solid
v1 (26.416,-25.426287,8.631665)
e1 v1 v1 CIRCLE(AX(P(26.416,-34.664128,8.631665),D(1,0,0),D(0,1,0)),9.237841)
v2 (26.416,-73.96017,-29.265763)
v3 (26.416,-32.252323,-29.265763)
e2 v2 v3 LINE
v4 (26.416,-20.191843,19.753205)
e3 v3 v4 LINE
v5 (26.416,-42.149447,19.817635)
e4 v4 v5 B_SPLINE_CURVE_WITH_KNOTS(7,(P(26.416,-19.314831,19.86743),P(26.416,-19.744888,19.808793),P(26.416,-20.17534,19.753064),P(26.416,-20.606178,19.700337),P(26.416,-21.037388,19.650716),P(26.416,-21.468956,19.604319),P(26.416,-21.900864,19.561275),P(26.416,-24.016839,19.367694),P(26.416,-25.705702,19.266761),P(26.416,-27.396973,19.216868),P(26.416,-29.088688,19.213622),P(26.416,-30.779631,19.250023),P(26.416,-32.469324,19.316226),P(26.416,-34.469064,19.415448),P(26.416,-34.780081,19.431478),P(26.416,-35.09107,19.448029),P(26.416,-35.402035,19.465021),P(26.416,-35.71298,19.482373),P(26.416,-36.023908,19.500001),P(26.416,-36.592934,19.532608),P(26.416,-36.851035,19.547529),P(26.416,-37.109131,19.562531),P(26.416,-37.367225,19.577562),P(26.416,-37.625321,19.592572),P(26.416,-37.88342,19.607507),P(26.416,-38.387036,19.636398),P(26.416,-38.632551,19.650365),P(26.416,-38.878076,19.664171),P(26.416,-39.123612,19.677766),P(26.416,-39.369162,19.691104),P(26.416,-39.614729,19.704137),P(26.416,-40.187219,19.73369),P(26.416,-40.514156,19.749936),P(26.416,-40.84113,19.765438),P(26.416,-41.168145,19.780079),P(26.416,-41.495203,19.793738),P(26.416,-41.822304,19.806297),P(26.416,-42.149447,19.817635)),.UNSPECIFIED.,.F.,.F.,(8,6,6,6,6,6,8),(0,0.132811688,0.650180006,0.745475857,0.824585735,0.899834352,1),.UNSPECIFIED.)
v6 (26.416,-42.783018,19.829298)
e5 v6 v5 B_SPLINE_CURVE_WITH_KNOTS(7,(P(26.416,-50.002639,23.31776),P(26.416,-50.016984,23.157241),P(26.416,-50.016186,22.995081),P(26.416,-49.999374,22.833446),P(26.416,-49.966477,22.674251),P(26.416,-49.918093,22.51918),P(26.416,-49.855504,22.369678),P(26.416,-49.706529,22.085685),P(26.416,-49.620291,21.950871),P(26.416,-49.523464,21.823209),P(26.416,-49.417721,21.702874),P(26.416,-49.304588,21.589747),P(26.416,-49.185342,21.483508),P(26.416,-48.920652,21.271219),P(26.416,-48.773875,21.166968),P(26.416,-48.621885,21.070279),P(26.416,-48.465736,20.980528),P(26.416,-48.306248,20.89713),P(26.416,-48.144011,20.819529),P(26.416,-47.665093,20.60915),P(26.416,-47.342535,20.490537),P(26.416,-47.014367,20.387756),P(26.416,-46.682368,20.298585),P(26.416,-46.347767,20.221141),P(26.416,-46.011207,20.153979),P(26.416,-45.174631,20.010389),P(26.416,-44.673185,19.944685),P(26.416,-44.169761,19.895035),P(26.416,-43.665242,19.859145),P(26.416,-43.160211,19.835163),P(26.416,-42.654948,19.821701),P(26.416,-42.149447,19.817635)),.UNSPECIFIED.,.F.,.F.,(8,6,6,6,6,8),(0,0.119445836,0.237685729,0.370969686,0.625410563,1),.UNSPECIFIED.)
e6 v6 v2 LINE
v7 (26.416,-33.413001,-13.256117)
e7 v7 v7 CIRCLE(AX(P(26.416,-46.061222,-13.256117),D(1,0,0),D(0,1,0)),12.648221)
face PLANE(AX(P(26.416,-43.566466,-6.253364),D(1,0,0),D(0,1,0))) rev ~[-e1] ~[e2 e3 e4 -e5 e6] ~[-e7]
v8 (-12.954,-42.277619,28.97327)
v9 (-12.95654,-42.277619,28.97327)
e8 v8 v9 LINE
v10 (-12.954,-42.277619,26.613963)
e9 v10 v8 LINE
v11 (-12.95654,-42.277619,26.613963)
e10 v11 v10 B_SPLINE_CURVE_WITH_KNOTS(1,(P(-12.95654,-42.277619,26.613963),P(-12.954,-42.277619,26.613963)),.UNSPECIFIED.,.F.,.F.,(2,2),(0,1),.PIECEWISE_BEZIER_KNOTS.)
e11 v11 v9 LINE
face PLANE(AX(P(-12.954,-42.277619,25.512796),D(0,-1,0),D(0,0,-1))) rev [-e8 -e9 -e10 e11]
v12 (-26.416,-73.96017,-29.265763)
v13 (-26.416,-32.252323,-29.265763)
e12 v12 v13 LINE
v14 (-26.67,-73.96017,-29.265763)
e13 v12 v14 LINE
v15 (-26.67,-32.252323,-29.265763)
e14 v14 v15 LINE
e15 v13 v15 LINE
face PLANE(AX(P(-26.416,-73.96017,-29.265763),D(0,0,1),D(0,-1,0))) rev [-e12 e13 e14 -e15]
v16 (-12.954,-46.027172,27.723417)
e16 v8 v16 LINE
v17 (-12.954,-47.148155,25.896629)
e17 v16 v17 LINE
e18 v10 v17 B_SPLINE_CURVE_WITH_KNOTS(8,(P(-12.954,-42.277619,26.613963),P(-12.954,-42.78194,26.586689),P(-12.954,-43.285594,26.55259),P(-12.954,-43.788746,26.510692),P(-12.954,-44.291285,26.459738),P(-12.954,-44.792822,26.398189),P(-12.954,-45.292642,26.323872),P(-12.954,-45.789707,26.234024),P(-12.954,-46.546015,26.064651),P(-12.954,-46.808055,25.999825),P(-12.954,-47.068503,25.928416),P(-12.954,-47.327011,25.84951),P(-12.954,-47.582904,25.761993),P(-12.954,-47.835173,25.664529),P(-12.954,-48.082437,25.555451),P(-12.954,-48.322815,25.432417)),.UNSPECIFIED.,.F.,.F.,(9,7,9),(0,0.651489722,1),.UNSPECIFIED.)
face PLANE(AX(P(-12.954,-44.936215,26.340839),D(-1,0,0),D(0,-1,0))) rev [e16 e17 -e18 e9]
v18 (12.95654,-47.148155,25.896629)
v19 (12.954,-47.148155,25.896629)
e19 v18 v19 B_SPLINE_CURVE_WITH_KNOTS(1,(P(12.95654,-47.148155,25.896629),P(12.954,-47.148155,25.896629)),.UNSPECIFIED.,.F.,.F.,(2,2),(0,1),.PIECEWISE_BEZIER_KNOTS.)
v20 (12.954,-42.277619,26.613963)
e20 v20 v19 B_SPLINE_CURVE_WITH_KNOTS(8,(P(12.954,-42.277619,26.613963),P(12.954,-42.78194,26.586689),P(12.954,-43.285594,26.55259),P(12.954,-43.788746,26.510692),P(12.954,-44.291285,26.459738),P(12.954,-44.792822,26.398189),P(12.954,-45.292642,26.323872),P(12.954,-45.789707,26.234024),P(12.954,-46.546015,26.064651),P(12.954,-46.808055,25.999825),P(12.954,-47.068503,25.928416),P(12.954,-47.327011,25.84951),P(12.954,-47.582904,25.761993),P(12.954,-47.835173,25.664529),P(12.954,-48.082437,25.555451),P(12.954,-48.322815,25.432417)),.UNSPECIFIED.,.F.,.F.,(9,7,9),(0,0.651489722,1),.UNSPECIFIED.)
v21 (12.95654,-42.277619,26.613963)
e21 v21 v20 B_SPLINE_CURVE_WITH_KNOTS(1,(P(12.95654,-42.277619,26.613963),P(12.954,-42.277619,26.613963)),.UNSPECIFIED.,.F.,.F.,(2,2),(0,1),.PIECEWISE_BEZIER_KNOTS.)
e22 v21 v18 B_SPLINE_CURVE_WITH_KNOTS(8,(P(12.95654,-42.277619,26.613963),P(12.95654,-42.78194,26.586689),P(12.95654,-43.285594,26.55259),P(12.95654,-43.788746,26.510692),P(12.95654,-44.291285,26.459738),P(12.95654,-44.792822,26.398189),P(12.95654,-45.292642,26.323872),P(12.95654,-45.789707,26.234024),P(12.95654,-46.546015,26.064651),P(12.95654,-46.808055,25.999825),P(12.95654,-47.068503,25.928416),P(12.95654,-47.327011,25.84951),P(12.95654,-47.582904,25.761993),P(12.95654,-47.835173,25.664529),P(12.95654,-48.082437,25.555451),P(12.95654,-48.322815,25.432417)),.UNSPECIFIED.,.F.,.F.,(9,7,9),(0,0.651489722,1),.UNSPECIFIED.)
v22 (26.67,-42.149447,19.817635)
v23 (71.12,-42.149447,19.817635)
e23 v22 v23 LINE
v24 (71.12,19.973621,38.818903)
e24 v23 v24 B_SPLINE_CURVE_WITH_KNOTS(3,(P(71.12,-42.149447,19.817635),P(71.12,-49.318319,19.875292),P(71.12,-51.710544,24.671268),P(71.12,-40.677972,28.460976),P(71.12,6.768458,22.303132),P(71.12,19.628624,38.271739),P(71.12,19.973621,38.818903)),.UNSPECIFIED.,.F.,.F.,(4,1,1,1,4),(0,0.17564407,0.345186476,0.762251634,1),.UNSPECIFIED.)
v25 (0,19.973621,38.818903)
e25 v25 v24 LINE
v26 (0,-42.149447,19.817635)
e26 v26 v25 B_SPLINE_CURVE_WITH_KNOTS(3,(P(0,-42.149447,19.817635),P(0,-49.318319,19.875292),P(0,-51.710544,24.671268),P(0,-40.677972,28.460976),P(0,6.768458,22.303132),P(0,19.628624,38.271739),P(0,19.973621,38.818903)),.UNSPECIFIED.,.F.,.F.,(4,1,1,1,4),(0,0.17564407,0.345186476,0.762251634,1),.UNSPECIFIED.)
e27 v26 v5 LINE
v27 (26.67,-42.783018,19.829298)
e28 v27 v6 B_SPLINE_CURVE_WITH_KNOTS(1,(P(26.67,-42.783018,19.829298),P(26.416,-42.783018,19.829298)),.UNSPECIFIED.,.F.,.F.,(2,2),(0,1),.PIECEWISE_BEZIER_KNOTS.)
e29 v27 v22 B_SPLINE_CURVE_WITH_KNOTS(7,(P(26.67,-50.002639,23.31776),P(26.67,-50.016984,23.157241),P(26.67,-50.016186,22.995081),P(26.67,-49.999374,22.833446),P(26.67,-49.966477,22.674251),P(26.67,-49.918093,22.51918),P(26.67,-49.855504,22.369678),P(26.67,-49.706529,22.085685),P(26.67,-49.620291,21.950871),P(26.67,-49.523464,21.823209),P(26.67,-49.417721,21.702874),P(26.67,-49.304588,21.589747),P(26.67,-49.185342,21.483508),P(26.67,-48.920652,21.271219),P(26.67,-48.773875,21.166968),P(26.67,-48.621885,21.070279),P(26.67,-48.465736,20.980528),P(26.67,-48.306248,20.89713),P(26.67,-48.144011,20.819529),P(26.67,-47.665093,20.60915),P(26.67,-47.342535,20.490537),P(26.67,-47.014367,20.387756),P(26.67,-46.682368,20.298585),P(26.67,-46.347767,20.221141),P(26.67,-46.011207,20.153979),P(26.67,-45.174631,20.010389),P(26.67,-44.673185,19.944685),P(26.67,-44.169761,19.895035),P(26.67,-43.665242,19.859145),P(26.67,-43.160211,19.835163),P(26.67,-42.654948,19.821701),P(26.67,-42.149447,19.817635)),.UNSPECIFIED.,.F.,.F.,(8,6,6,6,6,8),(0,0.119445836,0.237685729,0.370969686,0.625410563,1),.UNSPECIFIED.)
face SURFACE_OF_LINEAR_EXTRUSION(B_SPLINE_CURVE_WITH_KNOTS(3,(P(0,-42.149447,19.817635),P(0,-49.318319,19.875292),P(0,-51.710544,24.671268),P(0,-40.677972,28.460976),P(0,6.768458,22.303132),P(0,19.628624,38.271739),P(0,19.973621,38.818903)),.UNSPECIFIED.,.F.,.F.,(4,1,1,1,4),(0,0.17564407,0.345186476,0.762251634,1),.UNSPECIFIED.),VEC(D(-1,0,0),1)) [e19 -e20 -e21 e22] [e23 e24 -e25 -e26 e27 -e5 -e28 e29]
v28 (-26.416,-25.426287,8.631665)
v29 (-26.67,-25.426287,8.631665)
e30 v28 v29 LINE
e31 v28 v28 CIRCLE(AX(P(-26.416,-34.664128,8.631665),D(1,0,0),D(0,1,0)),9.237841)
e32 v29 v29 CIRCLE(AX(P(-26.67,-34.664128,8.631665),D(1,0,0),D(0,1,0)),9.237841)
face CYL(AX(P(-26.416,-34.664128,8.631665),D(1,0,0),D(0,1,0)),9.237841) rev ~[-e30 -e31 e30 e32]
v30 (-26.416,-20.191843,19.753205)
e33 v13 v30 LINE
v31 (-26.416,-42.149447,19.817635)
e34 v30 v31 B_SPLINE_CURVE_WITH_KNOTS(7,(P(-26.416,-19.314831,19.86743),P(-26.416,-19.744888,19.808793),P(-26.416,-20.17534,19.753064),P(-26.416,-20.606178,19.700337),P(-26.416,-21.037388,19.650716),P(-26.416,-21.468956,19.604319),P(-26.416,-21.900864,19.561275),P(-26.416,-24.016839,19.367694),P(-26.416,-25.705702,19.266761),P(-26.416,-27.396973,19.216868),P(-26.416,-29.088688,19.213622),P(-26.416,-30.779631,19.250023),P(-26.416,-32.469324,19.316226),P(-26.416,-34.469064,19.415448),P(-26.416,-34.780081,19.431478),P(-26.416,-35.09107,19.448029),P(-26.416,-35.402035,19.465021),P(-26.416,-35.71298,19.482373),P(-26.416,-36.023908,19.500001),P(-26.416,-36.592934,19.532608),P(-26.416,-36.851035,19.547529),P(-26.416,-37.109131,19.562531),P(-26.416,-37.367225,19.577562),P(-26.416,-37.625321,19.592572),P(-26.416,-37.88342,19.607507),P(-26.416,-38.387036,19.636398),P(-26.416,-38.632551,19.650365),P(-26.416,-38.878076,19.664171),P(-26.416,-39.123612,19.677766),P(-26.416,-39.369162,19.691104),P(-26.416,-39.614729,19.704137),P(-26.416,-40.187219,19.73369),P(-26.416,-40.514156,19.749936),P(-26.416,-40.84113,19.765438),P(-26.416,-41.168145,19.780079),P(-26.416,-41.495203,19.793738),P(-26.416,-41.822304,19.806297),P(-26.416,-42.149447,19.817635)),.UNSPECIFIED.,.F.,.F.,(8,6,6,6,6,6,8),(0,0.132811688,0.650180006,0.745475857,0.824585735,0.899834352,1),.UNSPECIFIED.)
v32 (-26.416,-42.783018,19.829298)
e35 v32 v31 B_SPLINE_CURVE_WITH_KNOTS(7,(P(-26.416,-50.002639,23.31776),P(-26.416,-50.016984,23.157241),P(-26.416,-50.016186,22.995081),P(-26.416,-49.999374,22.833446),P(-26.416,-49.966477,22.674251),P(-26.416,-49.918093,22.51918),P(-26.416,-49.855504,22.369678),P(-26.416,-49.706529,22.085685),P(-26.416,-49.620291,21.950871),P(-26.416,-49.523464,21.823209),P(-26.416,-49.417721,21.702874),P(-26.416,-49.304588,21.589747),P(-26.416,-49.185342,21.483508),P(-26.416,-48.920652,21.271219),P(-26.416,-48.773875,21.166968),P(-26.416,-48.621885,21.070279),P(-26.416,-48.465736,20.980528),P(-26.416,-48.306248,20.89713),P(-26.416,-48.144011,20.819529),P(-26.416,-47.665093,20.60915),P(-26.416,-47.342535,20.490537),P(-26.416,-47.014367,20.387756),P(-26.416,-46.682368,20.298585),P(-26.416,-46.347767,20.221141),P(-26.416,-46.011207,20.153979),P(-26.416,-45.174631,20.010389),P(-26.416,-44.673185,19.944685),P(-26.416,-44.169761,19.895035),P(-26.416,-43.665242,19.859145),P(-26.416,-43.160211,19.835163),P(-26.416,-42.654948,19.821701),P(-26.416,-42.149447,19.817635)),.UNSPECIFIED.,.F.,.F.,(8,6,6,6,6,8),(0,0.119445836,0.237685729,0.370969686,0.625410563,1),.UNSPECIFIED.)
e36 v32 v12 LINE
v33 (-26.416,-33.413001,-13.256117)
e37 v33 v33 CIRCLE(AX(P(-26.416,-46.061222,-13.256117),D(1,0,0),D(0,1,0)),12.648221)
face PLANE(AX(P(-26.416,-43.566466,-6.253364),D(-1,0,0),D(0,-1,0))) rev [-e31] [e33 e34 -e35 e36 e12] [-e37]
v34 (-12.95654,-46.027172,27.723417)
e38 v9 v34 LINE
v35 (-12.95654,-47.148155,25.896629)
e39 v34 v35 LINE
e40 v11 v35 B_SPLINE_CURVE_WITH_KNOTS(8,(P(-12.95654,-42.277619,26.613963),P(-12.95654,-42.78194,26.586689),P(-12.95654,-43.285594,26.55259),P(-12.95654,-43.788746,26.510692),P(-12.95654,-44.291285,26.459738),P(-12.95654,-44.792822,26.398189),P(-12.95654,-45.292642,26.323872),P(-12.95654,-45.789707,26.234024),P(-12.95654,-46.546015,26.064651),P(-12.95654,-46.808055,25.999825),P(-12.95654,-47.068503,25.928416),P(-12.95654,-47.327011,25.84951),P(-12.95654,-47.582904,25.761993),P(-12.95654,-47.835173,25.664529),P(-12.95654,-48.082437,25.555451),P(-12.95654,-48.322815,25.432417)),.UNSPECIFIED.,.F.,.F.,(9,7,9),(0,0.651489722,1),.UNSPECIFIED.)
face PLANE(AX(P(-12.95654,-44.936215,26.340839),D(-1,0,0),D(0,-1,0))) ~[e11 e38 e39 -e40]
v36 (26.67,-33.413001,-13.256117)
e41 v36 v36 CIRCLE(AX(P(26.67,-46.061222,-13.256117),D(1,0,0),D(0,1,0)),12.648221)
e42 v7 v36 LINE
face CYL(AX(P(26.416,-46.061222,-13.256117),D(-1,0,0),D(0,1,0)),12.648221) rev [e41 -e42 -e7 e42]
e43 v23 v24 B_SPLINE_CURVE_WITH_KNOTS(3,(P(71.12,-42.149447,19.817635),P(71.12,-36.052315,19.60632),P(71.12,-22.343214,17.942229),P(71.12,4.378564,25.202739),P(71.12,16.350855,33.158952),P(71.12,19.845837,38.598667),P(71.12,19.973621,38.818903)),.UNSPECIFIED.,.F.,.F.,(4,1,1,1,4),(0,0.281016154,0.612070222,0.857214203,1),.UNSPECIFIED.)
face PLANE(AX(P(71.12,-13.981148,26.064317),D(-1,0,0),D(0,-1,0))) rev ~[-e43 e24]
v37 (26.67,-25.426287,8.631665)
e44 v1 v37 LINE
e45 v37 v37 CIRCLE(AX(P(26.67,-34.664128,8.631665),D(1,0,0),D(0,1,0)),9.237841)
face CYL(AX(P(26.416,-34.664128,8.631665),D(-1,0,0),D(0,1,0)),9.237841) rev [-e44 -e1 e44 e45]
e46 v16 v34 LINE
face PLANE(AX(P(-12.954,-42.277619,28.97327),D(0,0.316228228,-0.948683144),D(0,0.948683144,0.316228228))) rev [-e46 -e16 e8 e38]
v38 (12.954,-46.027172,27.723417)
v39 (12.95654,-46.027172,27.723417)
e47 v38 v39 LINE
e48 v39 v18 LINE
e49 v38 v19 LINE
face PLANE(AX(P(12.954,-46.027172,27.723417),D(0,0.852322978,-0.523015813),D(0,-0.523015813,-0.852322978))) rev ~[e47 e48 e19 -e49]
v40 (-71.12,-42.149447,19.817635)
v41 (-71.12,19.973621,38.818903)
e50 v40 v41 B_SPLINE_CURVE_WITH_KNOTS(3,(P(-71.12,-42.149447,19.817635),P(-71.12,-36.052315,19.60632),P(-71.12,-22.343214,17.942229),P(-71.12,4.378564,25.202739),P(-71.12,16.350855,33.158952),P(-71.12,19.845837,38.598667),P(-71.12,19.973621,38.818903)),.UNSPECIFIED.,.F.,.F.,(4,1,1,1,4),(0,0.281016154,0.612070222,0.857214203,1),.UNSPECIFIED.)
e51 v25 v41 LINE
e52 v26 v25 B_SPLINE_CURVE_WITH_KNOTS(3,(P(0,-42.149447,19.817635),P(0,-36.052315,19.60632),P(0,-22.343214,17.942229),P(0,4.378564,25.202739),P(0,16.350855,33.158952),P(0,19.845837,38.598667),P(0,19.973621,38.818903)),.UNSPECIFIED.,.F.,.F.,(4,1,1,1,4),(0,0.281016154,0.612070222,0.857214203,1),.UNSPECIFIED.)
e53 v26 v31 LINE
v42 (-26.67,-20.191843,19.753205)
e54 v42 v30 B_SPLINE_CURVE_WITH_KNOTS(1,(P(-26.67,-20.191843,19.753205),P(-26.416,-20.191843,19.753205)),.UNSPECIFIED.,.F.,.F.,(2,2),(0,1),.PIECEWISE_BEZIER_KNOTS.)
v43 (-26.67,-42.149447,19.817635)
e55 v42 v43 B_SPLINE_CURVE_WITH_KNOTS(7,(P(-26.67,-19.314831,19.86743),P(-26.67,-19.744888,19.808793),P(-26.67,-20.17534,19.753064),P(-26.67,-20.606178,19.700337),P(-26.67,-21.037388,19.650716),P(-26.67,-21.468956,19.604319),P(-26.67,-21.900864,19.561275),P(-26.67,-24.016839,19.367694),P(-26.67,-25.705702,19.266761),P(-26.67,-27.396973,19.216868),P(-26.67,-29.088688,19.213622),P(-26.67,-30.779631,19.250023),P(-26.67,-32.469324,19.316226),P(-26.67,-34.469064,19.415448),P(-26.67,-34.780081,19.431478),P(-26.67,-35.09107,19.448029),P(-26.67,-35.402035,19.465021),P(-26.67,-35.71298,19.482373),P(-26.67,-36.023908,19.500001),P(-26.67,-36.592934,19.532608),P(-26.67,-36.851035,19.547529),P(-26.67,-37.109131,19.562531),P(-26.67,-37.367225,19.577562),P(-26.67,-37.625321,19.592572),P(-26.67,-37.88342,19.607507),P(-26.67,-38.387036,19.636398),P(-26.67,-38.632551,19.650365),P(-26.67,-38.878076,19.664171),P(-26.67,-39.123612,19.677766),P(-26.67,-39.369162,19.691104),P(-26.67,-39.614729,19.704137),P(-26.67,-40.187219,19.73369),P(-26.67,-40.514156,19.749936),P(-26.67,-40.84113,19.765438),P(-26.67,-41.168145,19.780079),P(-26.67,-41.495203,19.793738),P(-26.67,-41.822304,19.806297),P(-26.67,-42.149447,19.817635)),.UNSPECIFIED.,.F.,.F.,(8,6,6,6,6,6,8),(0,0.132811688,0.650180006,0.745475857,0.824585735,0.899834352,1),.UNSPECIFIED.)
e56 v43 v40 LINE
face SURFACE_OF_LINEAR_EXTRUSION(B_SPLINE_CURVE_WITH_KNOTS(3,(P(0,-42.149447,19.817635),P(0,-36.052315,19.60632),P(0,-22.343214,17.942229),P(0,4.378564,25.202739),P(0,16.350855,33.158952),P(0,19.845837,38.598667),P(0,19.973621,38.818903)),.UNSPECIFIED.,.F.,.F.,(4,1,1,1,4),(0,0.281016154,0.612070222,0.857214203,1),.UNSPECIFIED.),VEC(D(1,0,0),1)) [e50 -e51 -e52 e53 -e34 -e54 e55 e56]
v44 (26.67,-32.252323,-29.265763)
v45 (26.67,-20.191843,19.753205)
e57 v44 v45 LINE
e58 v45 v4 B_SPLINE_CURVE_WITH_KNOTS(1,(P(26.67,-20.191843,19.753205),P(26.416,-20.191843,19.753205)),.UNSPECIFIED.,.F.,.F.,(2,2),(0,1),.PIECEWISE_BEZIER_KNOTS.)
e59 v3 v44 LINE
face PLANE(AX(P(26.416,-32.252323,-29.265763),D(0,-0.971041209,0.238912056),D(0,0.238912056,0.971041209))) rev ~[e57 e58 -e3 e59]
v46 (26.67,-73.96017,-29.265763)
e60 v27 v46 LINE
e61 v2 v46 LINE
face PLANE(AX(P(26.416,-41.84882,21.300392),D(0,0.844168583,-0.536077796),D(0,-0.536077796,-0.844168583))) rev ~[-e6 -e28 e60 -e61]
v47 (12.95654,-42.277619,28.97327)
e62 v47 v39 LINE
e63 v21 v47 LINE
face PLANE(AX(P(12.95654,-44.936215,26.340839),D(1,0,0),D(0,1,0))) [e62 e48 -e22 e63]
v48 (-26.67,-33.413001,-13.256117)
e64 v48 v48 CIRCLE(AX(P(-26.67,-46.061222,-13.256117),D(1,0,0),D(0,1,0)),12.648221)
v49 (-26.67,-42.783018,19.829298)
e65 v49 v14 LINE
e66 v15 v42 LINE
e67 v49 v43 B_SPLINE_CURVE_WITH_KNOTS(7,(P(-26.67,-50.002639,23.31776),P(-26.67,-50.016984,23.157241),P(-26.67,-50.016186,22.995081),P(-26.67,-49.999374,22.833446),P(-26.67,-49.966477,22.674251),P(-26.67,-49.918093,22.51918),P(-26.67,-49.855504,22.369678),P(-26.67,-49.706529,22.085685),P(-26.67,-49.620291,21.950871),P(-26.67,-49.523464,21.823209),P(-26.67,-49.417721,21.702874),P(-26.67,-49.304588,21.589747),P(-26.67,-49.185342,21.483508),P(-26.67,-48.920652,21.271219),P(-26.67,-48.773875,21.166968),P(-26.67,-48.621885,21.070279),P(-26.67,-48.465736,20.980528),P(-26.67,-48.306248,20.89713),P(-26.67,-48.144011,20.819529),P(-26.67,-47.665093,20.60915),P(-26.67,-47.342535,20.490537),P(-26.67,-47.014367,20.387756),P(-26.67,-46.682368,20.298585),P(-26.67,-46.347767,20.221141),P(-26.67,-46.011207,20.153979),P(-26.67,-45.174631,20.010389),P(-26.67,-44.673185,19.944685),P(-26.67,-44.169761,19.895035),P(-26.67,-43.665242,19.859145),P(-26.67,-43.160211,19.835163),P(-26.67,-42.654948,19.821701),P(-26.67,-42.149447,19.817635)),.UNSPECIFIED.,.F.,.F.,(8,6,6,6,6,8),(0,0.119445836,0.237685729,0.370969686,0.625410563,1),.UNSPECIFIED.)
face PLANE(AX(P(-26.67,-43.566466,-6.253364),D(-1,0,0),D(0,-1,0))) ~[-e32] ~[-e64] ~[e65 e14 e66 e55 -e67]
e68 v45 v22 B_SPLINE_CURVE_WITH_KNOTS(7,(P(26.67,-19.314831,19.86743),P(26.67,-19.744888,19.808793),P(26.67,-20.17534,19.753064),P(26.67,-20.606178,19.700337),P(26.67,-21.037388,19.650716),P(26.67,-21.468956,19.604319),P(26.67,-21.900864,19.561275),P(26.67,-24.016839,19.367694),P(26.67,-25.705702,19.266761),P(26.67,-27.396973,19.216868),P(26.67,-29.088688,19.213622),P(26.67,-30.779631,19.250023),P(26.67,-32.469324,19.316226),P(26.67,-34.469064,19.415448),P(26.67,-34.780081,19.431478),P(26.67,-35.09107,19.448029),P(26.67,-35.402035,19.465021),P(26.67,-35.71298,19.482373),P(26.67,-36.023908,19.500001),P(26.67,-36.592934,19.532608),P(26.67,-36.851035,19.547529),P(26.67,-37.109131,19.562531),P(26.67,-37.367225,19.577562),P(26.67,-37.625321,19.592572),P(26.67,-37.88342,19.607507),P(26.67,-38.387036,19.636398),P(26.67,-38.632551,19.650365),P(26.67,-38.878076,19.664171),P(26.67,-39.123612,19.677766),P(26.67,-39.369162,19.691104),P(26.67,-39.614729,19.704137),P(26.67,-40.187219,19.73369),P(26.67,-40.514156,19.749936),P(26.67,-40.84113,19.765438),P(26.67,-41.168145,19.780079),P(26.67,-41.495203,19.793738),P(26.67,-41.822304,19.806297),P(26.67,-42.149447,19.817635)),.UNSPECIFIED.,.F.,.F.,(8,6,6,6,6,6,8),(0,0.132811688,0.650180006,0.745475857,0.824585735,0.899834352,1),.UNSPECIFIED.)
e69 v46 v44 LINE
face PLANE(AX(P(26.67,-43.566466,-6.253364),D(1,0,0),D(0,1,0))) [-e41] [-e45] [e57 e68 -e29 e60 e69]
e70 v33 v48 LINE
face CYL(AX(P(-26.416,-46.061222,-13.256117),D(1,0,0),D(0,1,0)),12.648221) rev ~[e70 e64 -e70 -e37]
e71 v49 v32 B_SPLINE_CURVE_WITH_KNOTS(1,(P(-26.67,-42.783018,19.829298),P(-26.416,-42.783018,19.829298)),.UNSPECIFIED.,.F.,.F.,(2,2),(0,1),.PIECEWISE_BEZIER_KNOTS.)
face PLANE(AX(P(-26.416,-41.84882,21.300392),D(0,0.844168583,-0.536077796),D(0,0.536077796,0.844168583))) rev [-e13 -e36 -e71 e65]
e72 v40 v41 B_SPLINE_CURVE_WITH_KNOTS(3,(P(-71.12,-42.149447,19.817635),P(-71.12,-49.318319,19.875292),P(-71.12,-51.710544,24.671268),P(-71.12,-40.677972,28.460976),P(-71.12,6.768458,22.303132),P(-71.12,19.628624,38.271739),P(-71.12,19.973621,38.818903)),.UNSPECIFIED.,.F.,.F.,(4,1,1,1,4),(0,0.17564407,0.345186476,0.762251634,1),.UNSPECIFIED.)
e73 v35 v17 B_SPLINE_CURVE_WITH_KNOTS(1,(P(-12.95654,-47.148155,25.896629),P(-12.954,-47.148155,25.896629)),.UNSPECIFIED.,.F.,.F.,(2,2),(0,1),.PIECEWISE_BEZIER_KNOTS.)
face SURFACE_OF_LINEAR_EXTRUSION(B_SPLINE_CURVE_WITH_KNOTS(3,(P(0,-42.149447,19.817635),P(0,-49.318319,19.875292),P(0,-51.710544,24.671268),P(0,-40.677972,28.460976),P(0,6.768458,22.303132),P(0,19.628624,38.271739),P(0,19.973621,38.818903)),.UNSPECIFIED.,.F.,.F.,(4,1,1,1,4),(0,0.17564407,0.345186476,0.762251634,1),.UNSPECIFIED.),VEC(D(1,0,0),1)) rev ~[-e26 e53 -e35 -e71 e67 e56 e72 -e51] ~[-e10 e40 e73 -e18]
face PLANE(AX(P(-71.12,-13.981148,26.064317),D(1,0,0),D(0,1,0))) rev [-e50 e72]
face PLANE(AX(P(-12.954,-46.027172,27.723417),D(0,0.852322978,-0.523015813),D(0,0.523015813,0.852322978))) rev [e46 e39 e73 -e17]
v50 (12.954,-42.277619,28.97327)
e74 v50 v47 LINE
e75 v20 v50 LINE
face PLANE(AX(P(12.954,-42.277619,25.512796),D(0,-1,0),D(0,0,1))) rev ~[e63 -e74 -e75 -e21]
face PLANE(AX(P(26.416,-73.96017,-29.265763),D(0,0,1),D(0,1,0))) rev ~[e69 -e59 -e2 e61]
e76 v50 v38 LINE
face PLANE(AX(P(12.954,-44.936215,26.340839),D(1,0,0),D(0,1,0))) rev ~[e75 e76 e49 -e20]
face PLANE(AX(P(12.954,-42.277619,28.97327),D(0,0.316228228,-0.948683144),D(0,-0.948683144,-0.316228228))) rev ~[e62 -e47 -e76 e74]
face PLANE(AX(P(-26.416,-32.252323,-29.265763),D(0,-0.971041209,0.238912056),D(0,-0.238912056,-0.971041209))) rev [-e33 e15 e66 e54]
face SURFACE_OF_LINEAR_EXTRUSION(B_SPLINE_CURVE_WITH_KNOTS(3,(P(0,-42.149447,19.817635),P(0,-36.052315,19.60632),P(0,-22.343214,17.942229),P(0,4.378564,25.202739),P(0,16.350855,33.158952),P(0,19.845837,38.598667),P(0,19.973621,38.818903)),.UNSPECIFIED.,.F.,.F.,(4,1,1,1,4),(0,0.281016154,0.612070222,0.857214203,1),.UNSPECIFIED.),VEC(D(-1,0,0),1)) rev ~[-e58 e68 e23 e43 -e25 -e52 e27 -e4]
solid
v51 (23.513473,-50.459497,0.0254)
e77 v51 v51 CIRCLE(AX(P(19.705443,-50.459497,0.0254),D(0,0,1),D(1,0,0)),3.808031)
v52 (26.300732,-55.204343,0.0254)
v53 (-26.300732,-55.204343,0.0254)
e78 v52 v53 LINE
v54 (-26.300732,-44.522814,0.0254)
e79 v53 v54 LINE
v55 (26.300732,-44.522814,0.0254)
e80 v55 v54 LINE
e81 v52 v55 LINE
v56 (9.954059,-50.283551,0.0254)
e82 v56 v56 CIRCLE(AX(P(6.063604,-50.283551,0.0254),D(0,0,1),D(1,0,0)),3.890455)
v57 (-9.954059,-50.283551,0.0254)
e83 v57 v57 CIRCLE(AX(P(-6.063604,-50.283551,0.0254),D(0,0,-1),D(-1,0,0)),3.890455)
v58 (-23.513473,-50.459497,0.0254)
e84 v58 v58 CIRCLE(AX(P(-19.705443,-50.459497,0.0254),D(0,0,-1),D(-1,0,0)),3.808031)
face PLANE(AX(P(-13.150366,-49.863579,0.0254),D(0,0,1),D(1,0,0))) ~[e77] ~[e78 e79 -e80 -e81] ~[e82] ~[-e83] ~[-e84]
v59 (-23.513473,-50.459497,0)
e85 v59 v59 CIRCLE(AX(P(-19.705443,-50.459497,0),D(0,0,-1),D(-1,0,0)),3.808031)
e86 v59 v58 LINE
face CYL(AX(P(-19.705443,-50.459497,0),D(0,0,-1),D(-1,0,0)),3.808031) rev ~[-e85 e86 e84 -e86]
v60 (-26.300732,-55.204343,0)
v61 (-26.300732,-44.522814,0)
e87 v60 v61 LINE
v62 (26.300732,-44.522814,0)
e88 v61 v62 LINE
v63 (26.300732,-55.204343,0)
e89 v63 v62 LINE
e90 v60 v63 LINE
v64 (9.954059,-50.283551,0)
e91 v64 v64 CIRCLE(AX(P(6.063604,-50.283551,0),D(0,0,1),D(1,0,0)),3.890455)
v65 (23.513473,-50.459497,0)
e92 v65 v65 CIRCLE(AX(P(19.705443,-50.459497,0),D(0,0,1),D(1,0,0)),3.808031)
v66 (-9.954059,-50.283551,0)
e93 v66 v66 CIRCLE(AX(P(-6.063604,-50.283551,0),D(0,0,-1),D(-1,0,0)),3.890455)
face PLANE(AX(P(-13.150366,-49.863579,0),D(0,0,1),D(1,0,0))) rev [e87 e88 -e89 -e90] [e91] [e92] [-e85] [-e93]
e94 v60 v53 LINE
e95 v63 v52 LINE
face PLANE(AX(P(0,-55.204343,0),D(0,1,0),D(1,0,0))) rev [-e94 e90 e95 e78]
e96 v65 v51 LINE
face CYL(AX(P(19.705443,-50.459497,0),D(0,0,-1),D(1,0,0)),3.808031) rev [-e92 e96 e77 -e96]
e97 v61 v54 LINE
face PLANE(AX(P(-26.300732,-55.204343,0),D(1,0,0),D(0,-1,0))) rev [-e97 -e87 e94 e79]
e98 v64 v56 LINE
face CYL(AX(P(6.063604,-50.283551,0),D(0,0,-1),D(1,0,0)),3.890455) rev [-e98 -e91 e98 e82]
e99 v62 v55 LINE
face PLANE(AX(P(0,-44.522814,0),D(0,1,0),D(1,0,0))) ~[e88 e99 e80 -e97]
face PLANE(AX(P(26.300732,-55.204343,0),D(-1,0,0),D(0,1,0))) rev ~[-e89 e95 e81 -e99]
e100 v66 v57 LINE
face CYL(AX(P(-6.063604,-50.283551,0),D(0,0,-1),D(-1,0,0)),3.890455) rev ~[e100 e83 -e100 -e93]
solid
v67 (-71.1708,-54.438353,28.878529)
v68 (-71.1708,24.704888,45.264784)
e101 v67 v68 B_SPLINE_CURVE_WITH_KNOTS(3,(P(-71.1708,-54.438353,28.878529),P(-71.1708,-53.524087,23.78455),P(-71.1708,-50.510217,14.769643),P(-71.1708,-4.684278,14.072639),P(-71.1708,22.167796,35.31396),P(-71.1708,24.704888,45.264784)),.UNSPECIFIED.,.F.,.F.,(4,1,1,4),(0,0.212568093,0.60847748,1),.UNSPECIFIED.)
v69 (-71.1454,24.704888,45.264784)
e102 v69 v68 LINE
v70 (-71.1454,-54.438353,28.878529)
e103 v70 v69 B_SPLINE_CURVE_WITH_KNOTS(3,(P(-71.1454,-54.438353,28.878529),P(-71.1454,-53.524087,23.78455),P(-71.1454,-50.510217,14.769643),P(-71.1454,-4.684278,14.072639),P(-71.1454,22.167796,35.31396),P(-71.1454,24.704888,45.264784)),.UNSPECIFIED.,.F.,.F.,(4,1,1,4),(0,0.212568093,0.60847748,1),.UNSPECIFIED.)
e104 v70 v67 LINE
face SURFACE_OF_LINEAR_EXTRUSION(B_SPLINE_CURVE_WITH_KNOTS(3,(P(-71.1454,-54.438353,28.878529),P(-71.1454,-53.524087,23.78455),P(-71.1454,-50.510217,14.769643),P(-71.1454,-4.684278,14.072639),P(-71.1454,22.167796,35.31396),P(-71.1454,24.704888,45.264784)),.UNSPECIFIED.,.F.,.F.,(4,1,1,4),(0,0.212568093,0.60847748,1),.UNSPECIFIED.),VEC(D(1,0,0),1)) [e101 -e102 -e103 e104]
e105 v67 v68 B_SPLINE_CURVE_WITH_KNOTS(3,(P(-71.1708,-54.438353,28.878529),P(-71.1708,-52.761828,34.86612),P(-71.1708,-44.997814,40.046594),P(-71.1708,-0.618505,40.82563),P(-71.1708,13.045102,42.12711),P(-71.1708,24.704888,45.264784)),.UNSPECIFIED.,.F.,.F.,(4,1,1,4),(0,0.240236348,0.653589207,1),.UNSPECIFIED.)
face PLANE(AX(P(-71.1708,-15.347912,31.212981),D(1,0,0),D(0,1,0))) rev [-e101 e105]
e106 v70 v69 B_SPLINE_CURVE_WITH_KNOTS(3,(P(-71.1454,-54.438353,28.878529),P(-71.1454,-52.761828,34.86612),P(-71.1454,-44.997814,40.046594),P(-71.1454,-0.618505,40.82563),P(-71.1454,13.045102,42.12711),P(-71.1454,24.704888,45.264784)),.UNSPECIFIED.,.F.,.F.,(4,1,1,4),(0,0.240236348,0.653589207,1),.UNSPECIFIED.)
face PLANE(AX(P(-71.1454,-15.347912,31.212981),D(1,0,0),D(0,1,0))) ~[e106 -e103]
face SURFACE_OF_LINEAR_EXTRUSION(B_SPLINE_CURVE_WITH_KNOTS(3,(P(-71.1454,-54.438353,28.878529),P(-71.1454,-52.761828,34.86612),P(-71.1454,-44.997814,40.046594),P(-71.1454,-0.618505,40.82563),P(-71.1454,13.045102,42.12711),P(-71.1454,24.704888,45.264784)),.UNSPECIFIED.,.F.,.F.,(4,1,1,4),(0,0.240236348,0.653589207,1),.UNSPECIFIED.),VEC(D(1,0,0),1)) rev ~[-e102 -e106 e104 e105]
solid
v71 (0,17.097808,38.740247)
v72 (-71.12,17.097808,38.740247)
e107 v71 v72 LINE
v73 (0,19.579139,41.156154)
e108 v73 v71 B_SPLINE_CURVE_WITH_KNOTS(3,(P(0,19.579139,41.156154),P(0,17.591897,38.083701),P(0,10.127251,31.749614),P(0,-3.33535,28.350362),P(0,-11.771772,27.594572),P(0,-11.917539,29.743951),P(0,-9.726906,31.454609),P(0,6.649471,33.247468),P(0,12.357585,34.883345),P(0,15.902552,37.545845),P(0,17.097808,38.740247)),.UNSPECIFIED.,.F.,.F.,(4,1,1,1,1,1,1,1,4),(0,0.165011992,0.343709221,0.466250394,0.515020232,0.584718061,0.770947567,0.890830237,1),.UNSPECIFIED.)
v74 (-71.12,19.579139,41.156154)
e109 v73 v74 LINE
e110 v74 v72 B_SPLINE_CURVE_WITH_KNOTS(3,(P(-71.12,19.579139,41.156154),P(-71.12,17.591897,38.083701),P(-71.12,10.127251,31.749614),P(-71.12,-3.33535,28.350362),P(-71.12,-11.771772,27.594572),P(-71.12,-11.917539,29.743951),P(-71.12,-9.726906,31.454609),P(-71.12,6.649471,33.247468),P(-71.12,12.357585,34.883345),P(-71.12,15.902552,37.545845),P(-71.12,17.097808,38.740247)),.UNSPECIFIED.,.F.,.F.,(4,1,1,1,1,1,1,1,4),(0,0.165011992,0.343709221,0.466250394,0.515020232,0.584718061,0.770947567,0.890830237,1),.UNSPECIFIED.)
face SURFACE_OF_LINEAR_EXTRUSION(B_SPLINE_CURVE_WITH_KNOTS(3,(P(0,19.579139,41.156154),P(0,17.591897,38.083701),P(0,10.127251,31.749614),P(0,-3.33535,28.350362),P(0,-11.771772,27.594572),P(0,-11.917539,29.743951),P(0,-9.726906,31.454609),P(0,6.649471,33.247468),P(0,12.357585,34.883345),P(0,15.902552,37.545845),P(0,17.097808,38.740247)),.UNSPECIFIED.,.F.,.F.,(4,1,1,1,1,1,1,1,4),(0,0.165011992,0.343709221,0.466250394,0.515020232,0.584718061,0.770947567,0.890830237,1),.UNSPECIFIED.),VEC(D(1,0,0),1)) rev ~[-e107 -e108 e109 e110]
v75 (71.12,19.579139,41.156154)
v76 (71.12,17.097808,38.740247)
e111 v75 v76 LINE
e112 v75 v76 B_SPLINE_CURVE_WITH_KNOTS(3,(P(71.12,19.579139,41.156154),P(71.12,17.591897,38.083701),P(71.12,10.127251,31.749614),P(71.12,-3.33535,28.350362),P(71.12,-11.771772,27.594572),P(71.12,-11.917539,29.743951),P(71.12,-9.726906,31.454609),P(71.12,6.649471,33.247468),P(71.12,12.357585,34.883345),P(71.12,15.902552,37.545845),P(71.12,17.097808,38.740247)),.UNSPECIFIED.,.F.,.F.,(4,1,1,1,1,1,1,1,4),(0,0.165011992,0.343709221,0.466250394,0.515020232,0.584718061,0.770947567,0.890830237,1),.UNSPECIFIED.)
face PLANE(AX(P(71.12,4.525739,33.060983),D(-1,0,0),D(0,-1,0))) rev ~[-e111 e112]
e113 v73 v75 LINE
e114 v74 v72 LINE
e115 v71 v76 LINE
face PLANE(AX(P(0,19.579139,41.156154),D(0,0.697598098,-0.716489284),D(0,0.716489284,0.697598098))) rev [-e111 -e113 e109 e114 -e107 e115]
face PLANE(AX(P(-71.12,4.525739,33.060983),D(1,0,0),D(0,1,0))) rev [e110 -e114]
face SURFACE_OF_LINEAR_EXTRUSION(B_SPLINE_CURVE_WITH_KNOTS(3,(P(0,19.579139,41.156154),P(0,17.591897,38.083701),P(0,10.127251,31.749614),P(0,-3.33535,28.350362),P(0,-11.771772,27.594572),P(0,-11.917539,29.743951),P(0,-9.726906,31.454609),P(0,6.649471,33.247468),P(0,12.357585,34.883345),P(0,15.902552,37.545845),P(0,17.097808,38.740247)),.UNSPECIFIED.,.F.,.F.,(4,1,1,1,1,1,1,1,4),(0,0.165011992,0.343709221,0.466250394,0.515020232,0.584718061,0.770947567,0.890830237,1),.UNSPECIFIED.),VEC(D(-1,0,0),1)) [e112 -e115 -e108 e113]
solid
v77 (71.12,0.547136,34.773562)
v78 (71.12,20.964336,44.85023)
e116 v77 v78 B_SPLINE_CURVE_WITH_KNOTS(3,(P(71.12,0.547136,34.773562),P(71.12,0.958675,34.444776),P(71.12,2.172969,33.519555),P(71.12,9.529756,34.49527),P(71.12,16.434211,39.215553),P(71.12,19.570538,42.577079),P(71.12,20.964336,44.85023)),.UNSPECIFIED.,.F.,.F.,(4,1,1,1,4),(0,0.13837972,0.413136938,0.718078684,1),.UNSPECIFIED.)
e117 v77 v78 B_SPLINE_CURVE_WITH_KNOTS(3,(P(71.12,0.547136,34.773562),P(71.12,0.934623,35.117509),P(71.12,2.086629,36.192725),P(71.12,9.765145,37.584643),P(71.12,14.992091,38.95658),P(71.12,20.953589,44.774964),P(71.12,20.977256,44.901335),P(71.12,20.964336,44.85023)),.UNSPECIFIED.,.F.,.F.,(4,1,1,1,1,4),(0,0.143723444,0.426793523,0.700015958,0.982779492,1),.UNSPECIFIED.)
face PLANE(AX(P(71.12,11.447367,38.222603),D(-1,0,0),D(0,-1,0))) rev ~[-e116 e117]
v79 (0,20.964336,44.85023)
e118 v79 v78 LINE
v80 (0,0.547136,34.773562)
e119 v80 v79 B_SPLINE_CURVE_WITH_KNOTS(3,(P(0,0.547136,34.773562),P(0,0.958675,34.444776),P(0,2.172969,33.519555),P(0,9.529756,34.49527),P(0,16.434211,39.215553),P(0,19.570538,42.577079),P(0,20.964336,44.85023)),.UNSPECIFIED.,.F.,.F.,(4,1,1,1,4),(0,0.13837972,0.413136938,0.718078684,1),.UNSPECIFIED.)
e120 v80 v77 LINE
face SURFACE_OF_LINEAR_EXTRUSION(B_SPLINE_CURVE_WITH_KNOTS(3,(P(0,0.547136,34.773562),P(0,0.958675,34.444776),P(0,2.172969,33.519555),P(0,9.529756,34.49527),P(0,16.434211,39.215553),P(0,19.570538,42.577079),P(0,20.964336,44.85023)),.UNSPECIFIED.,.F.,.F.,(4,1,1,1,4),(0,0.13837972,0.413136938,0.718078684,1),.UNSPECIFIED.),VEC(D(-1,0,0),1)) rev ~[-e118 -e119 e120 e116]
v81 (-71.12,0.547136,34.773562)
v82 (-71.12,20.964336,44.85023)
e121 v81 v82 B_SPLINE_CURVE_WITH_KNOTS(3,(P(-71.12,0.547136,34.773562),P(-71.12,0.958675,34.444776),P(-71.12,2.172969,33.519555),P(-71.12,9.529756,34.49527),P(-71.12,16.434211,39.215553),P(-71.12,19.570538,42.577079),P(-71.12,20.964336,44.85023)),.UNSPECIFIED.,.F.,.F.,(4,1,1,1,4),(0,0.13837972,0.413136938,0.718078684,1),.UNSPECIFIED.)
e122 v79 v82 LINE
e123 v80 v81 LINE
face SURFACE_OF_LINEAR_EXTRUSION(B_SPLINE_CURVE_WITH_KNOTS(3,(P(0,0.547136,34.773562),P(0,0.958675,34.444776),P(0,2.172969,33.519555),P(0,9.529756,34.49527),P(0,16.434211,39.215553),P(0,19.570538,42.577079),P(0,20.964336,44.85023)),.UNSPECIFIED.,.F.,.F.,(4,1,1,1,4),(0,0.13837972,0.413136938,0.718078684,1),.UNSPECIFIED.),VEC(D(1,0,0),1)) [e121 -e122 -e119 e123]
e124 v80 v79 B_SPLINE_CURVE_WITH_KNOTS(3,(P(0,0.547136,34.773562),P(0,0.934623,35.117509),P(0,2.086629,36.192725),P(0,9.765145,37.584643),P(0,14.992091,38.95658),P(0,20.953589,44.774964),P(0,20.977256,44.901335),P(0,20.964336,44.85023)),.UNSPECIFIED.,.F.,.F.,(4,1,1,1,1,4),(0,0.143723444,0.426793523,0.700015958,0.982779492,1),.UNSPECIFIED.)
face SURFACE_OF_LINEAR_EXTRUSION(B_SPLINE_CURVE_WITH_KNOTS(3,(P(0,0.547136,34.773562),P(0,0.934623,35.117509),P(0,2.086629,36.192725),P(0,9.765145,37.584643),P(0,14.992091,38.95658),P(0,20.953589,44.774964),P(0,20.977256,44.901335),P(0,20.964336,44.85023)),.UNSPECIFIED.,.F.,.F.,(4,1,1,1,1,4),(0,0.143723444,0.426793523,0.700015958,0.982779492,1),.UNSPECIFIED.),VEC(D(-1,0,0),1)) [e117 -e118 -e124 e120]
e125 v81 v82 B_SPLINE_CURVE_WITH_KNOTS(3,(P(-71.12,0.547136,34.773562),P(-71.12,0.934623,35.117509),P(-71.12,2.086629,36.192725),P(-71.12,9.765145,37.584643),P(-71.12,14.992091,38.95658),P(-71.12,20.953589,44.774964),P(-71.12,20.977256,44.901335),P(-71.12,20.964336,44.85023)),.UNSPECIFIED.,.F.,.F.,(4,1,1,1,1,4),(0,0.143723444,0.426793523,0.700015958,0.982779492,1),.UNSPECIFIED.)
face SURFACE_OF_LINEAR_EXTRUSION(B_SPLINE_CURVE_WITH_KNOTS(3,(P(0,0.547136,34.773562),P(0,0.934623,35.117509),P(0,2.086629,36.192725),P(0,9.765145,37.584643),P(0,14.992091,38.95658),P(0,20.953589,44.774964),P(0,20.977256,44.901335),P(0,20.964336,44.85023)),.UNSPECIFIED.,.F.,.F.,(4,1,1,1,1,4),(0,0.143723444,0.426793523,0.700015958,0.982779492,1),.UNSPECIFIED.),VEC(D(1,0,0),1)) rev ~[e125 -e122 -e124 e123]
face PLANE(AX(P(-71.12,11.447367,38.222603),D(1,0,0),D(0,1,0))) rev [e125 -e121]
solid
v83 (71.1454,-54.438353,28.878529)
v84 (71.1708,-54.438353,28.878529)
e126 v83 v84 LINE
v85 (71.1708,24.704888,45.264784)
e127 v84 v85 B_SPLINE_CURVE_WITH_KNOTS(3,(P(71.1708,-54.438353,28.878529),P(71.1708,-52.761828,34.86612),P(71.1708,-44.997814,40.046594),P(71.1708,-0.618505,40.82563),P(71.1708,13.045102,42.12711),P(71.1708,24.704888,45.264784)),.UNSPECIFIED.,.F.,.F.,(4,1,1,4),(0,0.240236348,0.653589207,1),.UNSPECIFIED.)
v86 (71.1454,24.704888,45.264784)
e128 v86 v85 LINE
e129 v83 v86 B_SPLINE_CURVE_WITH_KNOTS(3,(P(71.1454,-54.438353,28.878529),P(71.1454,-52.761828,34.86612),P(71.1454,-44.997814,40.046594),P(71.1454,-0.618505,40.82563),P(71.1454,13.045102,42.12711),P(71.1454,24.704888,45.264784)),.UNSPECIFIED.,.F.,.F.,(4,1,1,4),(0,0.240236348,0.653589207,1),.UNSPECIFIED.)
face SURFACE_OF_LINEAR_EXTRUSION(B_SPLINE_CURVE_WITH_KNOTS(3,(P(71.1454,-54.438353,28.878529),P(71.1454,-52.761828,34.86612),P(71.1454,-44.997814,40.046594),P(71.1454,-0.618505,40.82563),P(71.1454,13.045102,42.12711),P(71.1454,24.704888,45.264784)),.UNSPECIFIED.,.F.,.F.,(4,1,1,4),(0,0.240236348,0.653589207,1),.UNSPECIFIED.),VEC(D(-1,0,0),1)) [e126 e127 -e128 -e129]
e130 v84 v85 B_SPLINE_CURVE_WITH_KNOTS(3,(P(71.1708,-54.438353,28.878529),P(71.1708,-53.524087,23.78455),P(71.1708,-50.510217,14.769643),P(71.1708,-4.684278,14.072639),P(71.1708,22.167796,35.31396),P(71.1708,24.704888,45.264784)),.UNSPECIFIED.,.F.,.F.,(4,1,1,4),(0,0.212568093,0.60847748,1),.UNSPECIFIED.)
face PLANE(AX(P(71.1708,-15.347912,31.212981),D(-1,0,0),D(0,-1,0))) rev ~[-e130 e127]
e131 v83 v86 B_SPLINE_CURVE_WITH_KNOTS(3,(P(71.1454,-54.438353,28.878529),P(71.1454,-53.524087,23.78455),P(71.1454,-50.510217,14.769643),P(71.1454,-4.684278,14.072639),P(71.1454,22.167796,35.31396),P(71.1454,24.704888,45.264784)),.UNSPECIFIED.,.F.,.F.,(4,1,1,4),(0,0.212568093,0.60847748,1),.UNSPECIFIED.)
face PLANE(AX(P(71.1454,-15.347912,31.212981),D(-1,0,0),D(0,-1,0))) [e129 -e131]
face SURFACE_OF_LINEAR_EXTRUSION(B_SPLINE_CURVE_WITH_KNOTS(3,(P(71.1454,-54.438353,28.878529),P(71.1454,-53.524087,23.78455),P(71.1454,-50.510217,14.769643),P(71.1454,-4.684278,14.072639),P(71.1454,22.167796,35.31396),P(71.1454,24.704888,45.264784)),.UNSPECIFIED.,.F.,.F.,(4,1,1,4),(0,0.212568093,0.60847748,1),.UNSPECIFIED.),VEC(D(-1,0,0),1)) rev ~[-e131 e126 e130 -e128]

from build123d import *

# Parameters (mm, degrees)
F1_DEPTH  = 71.12
F4_DEPTH  = 0.0254
F7_DEPTH  = 0.00254
F9_R      = 12.6482207297
F9_R_2    = 9.2378405588
F10_DEPTH = 0.254
F11_W     = 26.3007320464
F11_H     = 10.6815285981
F11_R     = 3.8904548127
F11_R_2   = 3.8080305194
F12_DEPTH = 0.0254


with BuildPart() as f1:
    # F0 (on Right) → F1 (new body)
    with BuildSketch(Plane.YZ):
        with BuildLine():
            add(Edge.make_bspline(
                [(-42.1494469047, 19.817635417), (-49.3183190173, 19.8752920335), (-51.710544484, 24.6712683485), (-40.6779716908, 28.4609755435), (6.768457503, 22.3031323409), (19.6286236392, 38.2717386941), (19.9736207724, 38.8189032674)],
                knots=[0, 0, 0, 0, 0.1756440704, 0.345186476, 0.7622516335, 1, 1, 1, 1], degree=3))
            add(Edge.make_bspline(
                [(-42.1494469047, 19.817635417), (-36.0523147566, 19.6063198214), (-22.3432136826, 17.9422285176), (4.3785635206, 25.2027394334), (16.3508553297, 33.1589519896), (19.8458373147, 38.5986670475), (19.9736207724, 38.8189032674)],
                knots=[0, 0, 0, 0, 0.2810161543, 0.6120702222, 0.8572142034, 1, 1, 1, 1], degree=3))
        make_face()
    extrude(amount=F1_DEPTH)

    # F6 (on offset) → F7 (join)
    with BuildSketch(Plane.YZ.offset(12.954)):
        Polygon((-48.322815448, 23.9823646843), (-43.7315292656, 25.5127958953), (-42.2776194662, 25.5127958953), (-42.2776194662, 28.9732696778), (-46.0271723568, 27.7234166861), align=None)
    extrude(amount=F7_DEPTH)

    # F9 (on offset) → F10 (join)
    with BuildSketch(Plane.YZ.offset(26.416)):
        Polygon((-32.2523228824, -29.2657632381), (-19.3148311228, 23.3177598566), (-41.8488197029, 21.3003922254), (-73.9601701498, -29.2657632381), align=None)
        with Locations((-46.0612215102, -13.2561167702)):
            Circle(F9_R, mode=Mode.SUBTRACT)
        with Locations((-34.6641279757, 8.6316652596)):
            Circle(F9_R_2, mode=Mode.SUBTRACT)
    extrude(amount=F10_DEPTH)



with BuildPart() as f1b:
    # F0 (on Right) → F1, piece 2 (new body)
    with BuildSketch(Plane.YZ):
        with BuildLine():
            add(Edge.make_bspline(
                [(19.5791386068, 41.1561541259), (17.5918973276, 38.0837009521), (10.1272510649, 31.7496136374), (-3.3353501446, 28.3503619252), (-11.771772173, 27.5945724419), (-11.9175385168, 29.743951235), (-9.7269056199, 31.4546093359), (6.6494711248, 33.2474684691), (12.3575854058, 34.8833452223), (15.9025522418, 37.5458454504), (17.0978084207, 38.740247488)],
                knots=[0, 0, 0, 0, 0.1650119923, 0.3437092214, 0.4662503945, 0.5150202321, 0.5847180609, 0.7709475672, 0.890830237, 1, 1, 1, 1], degree=3))
            Line((19.5791386068, 41.1561541259), (17.0978084207, 38.740247488))
        make_face()
    extrude(amount=F1_DEPTH)


with BuildPart() as f1c:
    # F0 (on Right) → F1, piece 3 (new body)
    with BuildSketch(Plane.YZ):
        with BuildLine():
            add(Edge.make_bspline(
                [(0.547135598, 34.7735621035), (0.9346234737, 35.1175093904), (2.0866290529, 36.192724707), (9.7651451176, 37.5846429854), (14.9920912939, 38.9565804985), (20.9535891326, 44.7749639921), (20.9772558943, 44.9013352054), (20.9643356502, 44.850230217)],
                knots=[0, 0, 0, 0, 0.1437234445, 0.4267935235, 0.7000159583, 0.9827794918, 1, 1, 1, 1], degree=3))
            add(Edge.make_bspline(
                [(0.547135598, 34.7735621035), (0.9586746018, 34.4447762862), (2.1729689411, 33.5195553553), (9.5297555135, 34.495270133), (16.4342109348, 39.2155529885), (19.570538246, 42.5770788345), (20.9643356502, 44.850230217)],
                knots=[0, 0, 0, 0, 0.1383797205, 0.4131369376, 0.7180786839, 1, 1, 1, 1], degree=3))
        make_face()
    extrude(amount=F1_DEPTH)


with BuildPart() as f4:
    # F3 (on offset) → F4 (new body)
    with BuildSketch(Plane.YZ.offset(71.1454)):
        with BuildLine():
            add(Edge.make_bspline(
                [(-54.4383525848, 28.8785286248), (-52.7618282993, 34.8661203744), (-44.9978138483, 40.0465936573), (-0.6185045915, 40.8256296781), (13.0451023579, 42.127110064), (24.704888463, 45.2647842467)],
                knots=[0, 0, 0, 0, 0.2402363477, 0.6535892071, 1, 1, 1, 1], degree=3))
            add(Edge.make_bspline(
                [(-54.4383525848, 28.8785286248), (-53.5240867346, 23.7845504621), (-50.5102167412, 14.7696433497), (-4.6842776087, 14.0726392103), (22.1677962691, 35.3139601648), (24.704888463, 45.2647842467)],
                knots=[0, 0, 0, 0, 0.2125680935, 0.6084774805, 1, 1, 1, 1], degree=3))
        make_face()
    extrude(amount=F4_DEPTH)


with BuildPart() as f12:
    # F11 (on Top) → F12 (new body)
    with BuildSketch(Plane.XY):
        with Locations((13.1503660232, -49.8635787517)):
            Rectangle(F11_W, F11_H)
        with Locations((6.0636042617, -50.2835512161)):
            Circle(F11_R, mode=Mode.SUBTRACT)
        with Locations((19.7054427117, -50.4594966769)):
            Circle(F11_R_2, mode=Mode.SUBTRACT)
    extrude(amount=F12_DEPTH)


with BuildPart() as f1_1:
    add(f1.part)

    add(f1b.part)  # F13 merges F1b

    add(f1c.part)  # F13 merges F1c

    add(f12.part)  # F13 merges F12
    # F13: F1, F4, F12, F1b, F1c across plane
    add(f1.part.mirror(Plane.YZ))
    add(f4.part.mirror(Plane.YZ))
    add(f12.part.mirror(Plane.YZ))
    add(f1b.part.mirror(Plane.YZ))
    add(f1c.part.mirror(Plane.YZ))


solid = Compound([f4.part, f1_1.part])
